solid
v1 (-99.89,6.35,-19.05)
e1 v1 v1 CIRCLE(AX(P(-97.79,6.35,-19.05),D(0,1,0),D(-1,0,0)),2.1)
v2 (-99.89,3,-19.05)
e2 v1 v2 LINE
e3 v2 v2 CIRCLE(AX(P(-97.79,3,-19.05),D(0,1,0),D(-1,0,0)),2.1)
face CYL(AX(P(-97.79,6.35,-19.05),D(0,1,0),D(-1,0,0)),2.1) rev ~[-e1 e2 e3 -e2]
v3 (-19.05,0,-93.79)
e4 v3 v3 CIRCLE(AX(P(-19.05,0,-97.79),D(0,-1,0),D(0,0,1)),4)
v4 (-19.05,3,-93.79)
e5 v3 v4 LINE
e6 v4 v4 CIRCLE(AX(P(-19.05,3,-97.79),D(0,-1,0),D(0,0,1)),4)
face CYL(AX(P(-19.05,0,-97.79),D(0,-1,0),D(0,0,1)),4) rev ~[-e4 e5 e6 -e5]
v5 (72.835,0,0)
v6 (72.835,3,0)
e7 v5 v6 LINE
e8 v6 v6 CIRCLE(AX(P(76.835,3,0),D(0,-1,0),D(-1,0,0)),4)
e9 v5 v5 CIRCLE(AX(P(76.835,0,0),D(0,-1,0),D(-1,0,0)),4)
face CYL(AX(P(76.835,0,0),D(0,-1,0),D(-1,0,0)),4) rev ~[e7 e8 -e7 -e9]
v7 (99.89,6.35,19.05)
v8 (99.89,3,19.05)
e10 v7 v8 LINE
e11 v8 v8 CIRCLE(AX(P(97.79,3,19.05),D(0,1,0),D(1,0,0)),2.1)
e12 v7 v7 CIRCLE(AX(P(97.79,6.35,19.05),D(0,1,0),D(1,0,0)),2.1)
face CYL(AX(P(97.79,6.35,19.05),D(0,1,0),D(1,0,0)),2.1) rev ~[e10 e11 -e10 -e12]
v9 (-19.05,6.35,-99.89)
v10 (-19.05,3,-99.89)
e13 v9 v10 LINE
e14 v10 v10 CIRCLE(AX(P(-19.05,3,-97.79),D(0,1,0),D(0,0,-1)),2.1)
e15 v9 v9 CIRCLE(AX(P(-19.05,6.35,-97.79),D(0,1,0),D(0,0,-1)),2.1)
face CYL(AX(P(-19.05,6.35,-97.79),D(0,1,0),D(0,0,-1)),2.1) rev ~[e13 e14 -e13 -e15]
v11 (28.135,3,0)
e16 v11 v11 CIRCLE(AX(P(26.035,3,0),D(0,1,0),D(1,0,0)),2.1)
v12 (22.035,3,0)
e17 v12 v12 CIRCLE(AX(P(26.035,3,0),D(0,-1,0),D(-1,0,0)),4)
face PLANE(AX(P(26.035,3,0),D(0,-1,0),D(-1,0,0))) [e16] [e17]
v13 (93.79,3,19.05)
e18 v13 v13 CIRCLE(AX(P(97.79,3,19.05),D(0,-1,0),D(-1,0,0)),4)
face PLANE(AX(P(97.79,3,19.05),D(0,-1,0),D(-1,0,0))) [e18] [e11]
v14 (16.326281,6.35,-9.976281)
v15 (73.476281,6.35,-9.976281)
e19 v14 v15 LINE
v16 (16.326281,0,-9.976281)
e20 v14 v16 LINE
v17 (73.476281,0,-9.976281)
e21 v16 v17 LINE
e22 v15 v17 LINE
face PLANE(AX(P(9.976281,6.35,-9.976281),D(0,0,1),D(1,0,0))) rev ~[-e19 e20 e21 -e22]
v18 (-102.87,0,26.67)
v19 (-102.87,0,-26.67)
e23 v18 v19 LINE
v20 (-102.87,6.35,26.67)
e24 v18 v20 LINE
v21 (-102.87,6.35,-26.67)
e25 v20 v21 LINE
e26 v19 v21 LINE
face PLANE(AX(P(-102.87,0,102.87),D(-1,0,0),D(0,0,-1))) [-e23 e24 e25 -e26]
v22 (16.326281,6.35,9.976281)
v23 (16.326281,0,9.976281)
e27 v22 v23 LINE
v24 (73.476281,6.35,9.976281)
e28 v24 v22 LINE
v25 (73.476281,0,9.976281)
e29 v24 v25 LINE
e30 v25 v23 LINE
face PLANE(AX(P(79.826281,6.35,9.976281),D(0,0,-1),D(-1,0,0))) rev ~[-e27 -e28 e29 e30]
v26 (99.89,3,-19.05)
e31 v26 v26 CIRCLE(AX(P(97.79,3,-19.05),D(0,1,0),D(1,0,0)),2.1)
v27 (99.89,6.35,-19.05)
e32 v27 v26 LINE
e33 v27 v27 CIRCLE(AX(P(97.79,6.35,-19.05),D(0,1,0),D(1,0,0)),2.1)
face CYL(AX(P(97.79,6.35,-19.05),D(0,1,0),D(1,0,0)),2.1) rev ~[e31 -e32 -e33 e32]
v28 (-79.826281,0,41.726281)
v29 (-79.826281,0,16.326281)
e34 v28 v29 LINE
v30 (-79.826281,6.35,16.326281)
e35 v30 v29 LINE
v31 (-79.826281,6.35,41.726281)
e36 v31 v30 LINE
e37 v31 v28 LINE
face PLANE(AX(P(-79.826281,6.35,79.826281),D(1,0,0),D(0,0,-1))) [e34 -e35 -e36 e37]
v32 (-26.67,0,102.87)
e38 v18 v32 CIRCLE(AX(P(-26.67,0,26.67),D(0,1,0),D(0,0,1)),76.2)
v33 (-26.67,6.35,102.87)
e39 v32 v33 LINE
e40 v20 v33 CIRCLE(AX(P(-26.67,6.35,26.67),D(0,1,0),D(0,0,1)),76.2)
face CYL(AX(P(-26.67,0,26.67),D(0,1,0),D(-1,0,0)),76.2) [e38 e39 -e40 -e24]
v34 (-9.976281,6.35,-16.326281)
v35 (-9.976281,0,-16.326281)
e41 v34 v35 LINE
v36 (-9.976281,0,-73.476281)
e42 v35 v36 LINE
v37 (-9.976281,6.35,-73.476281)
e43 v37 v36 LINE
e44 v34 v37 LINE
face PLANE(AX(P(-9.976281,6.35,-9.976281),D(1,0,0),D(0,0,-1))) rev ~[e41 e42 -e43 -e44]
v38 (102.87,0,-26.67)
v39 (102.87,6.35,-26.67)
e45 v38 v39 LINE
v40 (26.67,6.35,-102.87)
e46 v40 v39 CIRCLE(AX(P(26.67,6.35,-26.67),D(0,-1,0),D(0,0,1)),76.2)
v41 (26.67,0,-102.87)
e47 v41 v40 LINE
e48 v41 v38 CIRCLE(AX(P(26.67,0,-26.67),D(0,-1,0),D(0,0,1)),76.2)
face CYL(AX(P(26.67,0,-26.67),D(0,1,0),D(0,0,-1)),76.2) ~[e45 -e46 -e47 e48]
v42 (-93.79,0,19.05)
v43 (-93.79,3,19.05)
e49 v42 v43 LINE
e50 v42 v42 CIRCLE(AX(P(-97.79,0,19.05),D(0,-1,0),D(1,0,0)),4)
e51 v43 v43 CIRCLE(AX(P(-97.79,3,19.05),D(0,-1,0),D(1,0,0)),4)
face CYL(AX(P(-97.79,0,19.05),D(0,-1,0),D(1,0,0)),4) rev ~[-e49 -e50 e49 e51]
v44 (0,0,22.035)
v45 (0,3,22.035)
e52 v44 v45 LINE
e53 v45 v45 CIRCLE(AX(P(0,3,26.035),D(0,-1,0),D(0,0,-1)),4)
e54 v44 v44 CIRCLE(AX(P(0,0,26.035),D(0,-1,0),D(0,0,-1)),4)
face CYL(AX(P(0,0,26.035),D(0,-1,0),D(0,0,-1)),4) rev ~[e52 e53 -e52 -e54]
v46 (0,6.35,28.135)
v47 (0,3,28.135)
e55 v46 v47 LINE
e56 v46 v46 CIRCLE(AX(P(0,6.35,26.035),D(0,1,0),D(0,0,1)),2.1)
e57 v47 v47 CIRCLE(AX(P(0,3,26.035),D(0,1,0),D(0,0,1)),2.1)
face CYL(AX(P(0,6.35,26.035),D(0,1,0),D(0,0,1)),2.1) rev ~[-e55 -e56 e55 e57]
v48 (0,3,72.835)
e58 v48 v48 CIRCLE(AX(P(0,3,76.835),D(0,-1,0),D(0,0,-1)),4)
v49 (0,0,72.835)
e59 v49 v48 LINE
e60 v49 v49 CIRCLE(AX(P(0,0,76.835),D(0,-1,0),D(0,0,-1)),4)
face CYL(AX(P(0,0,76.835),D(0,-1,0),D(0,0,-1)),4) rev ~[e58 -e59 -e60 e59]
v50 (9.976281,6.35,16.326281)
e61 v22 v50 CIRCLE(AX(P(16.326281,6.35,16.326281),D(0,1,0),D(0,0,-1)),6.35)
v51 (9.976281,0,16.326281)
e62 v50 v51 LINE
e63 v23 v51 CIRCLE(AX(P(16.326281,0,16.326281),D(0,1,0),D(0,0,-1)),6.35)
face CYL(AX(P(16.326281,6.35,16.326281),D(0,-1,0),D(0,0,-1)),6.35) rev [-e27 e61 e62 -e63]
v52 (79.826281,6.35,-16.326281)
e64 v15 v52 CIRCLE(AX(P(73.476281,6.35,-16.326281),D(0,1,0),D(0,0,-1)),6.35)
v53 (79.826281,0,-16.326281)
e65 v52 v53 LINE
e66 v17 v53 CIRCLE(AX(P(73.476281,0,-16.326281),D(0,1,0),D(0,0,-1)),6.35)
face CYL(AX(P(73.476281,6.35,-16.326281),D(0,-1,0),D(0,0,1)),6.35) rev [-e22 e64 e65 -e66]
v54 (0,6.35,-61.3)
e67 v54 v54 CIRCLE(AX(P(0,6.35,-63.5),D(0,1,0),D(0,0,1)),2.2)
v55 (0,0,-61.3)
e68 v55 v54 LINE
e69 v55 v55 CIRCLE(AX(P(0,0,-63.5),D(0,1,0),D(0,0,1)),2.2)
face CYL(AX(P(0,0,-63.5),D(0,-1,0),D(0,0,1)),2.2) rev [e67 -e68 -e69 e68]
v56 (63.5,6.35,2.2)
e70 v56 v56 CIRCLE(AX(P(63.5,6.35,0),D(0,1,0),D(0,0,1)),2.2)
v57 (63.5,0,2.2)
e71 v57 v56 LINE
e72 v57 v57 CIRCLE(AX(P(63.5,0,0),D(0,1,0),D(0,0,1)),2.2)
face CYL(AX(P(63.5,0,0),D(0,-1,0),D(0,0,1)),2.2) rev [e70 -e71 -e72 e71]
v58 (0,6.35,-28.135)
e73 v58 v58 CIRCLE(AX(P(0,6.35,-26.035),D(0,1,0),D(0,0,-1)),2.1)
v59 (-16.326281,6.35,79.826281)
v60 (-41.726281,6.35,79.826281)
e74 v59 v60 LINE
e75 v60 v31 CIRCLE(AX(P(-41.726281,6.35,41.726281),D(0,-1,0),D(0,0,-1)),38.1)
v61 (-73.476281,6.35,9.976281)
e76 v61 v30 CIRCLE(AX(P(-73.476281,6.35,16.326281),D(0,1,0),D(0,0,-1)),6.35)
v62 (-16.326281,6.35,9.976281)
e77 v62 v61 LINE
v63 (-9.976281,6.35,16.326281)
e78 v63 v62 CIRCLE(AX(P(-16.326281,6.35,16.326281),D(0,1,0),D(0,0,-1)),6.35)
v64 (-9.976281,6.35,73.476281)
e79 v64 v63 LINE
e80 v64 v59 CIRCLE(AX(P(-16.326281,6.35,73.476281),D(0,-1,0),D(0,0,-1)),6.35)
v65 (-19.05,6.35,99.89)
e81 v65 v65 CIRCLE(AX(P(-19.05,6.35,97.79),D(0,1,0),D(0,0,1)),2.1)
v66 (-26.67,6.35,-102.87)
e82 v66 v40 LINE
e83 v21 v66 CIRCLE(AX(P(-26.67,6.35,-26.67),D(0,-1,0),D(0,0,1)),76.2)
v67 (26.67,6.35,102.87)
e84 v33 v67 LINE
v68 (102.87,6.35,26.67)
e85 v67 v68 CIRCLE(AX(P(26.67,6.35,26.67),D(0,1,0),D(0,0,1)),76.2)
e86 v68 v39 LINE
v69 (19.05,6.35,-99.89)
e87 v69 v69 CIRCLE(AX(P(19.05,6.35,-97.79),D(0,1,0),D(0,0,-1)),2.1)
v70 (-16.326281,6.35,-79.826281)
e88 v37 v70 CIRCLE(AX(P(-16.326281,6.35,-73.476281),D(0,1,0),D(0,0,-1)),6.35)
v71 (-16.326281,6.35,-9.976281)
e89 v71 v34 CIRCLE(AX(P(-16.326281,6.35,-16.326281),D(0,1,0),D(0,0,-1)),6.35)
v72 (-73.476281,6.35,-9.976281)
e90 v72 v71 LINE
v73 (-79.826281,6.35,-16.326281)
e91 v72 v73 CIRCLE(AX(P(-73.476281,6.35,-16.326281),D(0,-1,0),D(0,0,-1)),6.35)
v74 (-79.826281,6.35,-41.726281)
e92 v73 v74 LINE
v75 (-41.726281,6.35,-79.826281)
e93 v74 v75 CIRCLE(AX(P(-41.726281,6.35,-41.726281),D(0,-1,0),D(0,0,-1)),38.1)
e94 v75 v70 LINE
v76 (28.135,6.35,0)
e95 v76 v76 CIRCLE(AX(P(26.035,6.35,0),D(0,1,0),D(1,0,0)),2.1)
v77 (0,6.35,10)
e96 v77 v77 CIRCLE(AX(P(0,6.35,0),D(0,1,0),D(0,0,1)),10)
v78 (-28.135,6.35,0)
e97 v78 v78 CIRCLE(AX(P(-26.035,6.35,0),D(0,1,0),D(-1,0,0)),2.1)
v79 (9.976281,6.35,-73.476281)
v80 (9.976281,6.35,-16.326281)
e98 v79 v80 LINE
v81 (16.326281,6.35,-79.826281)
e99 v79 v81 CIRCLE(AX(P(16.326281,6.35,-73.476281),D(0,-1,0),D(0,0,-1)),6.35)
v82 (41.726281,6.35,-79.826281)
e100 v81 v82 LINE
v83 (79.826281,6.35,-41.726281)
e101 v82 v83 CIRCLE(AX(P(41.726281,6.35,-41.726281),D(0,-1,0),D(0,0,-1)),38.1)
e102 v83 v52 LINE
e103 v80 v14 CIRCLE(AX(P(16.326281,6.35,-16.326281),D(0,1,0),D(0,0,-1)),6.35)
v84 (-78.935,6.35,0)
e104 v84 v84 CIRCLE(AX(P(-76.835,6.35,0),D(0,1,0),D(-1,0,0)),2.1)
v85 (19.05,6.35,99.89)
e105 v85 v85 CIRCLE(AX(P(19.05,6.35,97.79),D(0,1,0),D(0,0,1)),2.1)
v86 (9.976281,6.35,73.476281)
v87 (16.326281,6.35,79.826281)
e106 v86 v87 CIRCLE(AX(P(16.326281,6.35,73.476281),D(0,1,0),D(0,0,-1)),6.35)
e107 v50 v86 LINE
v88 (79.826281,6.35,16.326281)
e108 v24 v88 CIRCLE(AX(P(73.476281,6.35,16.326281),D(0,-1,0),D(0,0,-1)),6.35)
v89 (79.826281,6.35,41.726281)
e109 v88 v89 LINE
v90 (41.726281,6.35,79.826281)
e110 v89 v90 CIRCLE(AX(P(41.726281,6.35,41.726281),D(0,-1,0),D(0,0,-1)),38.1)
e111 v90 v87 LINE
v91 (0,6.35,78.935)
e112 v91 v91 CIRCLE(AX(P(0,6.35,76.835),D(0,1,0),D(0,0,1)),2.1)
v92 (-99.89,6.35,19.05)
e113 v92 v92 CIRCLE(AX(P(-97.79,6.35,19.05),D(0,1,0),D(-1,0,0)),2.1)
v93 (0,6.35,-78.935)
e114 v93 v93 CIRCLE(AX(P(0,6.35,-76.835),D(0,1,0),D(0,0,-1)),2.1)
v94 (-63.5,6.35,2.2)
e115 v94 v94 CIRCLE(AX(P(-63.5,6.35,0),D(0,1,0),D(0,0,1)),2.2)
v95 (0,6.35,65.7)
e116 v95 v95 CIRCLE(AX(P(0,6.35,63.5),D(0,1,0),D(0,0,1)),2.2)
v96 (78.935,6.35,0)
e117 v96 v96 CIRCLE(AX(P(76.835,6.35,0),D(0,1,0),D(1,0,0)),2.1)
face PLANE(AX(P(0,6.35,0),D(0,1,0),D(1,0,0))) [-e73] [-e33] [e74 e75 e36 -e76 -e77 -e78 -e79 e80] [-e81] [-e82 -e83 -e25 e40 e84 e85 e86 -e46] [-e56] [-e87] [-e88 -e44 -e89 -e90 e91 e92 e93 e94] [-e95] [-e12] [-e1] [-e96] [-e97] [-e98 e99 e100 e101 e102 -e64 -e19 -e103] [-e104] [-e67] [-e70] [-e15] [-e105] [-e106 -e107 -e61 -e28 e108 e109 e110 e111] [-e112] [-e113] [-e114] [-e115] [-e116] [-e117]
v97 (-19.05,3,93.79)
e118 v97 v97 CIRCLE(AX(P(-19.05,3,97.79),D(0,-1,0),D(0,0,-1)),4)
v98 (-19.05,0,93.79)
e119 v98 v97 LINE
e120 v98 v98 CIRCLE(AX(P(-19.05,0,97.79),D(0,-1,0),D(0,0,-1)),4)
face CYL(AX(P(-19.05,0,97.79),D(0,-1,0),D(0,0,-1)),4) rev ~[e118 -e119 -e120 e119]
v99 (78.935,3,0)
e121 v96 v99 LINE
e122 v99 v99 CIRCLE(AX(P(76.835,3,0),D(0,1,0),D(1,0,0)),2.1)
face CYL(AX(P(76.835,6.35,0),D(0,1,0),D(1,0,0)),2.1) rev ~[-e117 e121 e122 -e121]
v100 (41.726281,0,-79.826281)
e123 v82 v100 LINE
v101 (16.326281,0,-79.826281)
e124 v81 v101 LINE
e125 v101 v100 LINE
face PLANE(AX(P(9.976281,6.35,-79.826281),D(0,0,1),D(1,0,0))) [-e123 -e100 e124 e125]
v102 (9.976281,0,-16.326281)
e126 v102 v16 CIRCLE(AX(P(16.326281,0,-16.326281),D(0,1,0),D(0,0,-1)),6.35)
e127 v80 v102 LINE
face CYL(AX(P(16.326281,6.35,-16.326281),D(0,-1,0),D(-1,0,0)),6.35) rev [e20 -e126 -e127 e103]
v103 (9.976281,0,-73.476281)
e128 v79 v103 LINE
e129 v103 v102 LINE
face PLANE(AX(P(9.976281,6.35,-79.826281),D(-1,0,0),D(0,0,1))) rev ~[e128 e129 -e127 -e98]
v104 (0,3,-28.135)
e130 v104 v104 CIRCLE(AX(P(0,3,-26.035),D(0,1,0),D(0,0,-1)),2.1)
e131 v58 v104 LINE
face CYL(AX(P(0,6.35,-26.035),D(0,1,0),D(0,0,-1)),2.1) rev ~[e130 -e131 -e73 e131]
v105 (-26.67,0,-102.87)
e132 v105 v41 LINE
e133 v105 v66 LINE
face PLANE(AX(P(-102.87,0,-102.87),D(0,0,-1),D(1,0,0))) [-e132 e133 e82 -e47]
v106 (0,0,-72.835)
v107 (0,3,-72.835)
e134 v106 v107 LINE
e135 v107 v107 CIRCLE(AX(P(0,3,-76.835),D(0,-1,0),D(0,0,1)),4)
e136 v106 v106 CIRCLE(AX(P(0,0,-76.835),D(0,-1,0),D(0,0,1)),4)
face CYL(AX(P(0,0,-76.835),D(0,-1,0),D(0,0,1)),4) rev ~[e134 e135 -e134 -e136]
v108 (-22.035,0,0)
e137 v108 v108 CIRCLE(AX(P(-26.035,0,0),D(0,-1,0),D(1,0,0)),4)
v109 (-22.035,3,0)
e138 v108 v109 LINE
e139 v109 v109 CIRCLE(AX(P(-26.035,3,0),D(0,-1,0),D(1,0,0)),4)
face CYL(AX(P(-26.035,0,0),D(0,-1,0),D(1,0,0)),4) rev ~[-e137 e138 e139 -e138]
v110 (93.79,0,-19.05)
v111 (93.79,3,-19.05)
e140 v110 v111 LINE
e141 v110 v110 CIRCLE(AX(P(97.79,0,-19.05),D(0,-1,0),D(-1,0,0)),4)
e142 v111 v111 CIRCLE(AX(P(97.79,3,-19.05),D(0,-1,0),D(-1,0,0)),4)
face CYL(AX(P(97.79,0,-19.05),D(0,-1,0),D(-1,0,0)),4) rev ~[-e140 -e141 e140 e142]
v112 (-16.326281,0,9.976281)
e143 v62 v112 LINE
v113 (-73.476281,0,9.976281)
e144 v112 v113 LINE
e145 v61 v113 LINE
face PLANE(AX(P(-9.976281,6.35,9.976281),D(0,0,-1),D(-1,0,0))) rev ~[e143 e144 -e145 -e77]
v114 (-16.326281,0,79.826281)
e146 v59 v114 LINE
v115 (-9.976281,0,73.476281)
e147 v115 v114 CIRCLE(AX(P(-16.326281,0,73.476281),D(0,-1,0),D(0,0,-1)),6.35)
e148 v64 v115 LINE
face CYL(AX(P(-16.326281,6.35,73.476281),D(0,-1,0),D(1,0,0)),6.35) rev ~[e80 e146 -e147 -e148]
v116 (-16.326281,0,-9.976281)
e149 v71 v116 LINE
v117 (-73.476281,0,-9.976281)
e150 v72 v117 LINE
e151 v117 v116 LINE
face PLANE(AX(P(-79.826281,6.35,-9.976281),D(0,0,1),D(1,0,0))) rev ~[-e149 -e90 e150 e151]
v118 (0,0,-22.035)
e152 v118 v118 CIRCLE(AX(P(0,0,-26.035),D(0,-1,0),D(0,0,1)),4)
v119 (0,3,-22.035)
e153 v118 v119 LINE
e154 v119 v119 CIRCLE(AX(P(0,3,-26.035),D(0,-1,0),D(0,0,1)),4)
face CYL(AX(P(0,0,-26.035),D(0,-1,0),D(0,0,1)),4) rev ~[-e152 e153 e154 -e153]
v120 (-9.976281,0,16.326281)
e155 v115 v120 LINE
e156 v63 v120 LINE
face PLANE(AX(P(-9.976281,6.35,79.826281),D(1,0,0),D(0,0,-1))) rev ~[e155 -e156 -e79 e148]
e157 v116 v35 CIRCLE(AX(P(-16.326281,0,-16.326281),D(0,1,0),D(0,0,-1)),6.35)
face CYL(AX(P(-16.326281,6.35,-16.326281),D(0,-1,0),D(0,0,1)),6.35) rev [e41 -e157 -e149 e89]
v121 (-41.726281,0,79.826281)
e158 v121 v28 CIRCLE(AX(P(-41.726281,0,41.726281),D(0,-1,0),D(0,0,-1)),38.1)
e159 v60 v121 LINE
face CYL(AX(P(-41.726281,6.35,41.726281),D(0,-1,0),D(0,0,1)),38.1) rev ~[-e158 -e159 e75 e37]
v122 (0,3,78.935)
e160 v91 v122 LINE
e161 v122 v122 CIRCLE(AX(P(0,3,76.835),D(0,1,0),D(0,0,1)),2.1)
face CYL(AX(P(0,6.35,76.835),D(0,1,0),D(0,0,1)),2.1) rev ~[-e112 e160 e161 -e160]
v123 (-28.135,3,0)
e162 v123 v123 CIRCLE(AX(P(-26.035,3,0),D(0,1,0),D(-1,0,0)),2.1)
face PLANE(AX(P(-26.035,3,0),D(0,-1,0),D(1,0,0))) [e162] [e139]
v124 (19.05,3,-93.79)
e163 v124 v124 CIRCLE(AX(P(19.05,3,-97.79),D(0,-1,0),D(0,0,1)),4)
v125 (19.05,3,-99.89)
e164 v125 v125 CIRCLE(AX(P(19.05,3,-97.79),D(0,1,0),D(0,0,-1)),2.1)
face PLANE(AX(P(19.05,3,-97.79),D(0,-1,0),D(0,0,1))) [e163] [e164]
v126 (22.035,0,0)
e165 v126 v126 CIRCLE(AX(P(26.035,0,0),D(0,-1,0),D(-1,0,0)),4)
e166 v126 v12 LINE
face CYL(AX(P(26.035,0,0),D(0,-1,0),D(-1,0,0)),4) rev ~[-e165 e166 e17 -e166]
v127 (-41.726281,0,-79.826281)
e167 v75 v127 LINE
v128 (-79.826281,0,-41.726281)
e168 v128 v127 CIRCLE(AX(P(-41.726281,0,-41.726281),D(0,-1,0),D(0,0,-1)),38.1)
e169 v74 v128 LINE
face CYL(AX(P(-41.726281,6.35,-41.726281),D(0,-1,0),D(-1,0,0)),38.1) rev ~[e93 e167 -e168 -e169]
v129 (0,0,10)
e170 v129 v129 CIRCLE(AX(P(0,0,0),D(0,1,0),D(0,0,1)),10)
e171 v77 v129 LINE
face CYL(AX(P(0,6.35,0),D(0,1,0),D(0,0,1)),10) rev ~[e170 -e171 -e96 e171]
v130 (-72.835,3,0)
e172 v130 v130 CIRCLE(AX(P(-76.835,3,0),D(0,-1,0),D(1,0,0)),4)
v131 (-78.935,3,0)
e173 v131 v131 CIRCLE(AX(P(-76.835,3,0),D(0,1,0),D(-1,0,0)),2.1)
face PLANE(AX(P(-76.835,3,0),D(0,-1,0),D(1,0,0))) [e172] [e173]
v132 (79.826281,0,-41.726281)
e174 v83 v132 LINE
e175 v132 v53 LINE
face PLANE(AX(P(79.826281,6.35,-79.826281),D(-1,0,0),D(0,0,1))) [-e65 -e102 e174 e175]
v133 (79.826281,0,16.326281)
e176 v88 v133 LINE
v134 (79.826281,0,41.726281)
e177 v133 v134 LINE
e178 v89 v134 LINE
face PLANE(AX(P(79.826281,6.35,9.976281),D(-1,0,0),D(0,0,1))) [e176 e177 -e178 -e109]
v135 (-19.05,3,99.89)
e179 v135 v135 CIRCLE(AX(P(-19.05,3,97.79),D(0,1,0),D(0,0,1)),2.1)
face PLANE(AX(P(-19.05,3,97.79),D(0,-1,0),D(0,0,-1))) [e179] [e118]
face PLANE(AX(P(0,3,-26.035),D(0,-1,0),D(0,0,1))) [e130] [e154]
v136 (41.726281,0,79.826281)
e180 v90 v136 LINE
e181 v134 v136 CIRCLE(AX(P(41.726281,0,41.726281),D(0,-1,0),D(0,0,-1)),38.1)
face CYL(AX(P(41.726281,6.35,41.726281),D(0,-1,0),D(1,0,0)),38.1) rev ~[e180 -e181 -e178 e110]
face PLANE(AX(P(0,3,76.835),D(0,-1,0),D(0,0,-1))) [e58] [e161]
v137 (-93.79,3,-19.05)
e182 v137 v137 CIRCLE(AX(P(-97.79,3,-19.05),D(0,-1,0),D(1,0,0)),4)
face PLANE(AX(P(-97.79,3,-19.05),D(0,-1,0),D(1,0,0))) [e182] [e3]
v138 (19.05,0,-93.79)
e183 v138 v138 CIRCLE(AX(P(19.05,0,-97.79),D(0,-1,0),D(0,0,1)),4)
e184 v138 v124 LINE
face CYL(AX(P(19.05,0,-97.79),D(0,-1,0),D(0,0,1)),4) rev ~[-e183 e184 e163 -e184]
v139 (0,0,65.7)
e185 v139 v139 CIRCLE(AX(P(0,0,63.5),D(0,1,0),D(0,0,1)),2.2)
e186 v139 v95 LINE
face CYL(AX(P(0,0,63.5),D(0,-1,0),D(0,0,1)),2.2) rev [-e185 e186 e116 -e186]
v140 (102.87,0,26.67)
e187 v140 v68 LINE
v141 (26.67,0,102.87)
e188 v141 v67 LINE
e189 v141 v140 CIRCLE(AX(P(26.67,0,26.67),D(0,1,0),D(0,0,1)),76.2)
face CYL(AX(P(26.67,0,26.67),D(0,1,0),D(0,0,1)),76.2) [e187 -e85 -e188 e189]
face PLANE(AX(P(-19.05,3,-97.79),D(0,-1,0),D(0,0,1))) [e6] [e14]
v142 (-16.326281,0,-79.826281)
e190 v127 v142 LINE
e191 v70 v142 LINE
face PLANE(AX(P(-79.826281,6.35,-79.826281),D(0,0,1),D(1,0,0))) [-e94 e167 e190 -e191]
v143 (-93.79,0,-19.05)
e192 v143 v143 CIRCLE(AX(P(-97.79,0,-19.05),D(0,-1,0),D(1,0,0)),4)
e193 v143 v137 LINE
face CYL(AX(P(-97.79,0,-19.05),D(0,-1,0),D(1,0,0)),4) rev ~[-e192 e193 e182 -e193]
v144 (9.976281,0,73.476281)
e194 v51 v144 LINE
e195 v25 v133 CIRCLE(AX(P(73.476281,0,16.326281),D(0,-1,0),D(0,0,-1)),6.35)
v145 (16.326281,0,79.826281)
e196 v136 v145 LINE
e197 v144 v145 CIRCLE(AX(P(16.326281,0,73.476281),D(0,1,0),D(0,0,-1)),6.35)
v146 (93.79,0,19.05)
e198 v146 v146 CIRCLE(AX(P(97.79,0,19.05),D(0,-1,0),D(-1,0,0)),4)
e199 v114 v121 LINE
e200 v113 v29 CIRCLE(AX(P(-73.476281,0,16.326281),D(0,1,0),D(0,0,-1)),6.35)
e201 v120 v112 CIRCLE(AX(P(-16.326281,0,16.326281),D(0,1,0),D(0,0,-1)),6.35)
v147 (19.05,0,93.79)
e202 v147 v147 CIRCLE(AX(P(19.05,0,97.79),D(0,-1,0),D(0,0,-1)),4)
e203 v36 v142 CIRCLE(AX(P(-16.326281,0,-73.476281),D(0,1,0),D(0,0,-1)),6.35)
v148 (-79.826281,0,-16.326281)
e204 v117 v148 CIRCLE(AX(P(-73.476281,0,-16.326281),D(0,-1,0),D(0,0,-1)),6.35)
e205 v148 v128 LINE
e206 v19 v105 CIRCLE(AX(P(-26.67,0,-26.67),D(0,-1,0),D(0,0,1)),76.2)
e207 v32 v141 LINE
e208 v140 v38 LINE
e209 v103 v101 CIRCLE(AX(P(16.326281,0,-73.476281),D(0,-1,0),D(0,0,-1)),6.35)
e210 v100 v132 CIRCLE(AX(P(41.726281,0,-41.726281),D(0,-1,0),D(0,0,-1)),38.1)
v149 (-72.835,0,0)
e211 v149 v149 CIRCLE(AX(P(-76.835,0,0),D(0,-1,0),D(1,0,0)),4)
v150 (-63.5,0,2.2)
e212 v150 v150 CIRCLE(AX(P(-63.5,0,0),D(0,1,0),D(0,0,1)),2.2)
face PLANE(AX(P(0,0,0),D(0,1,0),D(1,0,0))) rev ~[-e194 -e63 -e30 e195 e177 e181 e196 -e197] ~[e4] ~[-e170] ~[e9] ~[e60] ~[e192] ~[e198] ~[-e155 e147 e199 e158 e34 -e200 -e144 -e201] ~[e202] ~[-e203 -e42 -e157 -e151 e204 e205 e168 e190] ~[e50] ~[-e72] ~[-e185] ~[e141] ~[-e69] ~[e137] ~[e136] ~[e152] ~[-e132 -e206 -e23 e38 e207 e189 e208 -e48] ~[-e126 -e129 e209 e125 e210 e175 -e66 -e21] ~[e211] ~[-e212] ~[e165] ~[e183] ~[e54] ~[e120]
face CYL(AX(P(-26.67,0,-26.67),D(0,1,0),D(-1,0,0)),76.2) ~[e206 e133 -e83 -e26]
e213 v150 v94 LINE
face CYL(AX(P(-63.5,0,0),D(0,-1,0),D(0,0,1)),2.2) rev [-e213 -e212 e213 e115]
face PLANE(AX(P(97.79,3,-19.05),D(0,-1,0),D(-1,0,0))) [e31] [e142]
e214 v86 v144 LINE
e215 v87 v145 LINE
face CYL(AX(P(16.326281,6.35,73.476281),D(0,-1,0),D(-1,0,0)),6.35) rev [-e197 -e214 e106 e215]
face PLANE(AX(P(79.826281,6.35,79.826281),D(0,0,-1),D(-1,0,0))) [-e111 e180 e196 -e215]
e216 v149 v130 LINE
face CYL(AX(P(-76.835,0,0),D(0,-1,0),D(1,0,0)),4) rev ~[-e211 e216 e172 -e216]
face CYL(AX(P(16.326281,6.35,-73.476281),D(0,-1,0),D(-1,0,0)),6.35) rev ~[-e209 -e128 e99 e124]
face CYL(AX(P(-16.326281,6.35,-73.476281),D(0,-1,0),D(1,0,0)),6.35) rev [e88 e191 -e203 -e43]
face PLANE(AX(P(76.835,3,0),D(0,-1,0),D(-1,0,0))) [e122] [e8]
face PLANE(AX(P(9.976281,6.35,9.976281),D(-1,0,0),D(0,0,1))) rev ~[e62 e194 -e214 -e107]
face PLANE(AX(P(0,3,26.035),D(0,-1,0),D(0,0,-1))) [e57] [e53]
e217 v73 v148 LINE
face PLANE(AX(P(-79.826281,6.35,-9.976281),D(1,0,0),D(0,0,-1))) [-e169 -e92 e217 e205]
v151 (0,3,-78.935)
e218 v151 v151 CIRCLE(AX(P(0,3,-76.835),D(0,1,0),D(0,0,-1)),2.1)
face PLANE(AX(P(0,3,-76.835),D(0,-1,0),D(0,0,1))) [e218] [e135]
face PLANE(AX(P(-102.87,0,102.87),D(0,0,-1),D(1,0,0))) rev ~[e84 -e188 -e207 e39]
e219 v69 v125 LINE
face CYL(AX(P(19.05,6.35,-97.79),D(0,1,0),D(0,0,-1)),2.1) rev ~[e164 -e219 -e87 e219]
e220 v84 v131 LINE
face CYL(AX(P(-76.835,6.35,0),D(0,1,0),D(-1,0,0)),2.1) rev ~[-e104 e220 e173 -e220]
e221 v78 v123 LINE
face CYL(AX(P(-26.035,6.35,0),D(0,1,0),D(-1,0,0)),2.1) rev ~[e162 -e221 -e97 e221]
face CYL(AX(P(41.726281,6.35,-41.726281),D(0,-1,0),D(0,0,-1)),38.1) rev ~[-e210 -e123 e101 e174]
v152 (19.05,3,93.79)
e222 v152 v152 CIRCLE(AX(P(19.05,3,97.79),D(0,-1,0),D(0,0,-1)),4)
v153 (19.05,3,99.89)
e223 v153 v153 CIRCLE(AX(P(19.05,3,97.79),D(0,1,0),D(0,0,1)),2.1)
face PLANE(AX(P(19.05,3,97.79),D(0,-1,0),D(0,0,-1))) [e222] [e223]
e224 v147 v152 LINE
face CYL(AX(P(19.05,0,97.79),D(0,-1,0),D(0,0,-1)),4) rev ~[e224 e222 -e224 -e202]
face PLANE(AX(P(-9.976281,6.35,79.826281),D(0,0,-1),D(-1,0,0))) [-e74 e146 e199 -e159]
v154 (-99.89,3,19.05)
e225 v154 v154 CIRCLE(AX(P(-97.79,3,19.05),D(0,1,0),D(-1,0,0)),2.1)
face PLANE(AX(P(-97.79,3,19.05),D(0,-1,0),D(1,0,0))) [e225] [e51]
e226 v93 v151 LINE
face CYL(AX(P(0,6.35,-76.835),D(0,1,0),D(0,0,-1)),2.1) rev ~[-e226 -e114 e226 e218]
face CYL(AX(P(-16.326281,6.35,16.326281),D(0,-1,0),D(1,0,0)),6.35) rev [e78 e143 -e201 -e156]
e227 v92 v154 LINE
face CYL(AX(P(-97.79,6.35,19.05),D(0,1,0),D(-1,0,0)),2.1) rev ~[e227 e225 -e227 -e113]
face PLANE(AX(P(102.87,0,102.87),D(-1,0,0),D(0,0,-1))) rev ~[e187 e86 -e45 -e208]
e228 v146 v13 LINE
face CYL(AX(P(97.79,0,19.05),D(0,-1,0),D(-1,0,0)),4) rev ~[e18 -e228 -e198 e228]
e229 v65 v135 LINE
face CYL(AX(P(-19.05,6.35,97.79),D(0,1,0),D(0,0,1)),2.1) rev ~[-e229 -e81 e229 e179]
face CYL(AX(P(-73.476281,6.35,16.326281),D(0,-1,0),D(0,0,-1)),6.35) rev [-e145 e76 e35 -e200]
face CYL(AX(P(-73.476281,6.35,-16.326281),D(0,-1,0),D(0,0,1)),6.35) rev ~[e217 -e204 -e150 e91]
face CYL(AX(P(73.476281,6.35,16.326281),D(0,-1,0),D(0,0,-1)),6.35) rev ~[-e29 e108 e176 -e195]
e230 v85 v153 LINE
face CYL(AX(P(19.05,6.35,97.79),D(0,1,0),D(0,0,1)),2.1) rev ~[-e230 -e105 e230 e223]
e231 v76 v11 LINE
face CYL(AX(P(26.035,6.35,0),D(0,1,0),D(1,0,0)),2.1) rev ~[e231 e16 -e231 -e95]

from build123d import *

# Parameters (mm, degrees)
SKETCH1_W                = 205.74
SKETCH1_H                = 205.74
SKETCH1_R                = 2.200000045
BOSS_EXTRUDE1_DEPTH      = 6.35
SKETCH3_R                = 9.999999939
CUT_EXTRUDE2_DEPTH       = 146.618667416
SKETCH4_W                = 69.85
SKETCH4_H                = 69.85
CUT_EXTRUDE3_DEPTH       = 146.618667416
FILLET4_R                = 6.35
CIRPATTERN6_COUNT        = 4
FILLET4_OF_CIRPATTERN6_R = 6.35
FILLET8_R                = 38.1
FILLET9_R                = 76.2
SKETCH10_R               = 2.099999991
CUT_EXTRUDE6_DEPTH       = 146.618667416
SKETCH11_R               = 4.000000001
CUT_EXTRUDE7_DEPTH       = 3.000000096
CIRPATTERN4_COUNT        = 4


with BuildPart() as part:
    # Sketch1 → Boss-Extrude1 (new body)
    with BuildSketch(Plane(origin=(0, 0, 0), x_dir=(1, 0, 0), z_dir=(0, 1, 0))):
        Rectangle(SKETCH1_W, SKETCH1_H)
        with Locations(Location((63.5, 0, 0), (0, 0, 270))):
            Circle(SKETCH1_R, mode=Mode.SUBTRACT)
        with Locations(Location((0, -63.5, 0), (0, 0, 270))):
            Circle(SKETCH1_R, mode=Mode.SUBTRACT)
        with Locations(Location((-63.5, 0, 0), (0, 0, 270))):
            Circle(SKETCH1_R, mode=Mode.SUBTRACT)
        with Locations(Location((0, 63.5, 0), (0, 0, 270))):
            Circle(SKETCH1_R, mode=Mode.SUBTRACT)
    extrude(amount=BOSS_EXTRUDE1_DEPTH)

    # Sketch3 → Cut-Extrude2 (cut, through all)
    with BuildSketch(Plane(origin=(0, 6.35, 0), x_dir=(1, 0, 0), z_dir=(0, 1, 0))):
        with Locations(Location((0, 0, 0), (0, 0, 270))):
            Circle(SKETCH3_R)
    extrude(amount=-CUT_EXTRUDE2_DEPTH, mode=Mode.SUBTRACT)

    # Sketch4 → Cut-Extrude3 (cut, through all)
    with BuildSketch(Plane(origin=(0, 6.35, 0), x_dir=(1, 0, 0), z_dir=(0, 1, 0))):
        with Locations((-44.901280605, 44.901280605)):
            Rectangle(SKETCH4_W, SKETCH4_H)
    cut_extrude3 = extrude(amount=-CUT_EXTRUDE3_DEPTH, mode=Mode.SUBTRACT)

    # Fillet4
    fillet4_edges = [part.edges().sort_by_distance(p)[0] for p in [
        (-9.976280605, 3.175, -79.826280605),
        (-9.976280605, 3.175, -9.976280605),
        (-79.826280605, 3.175, -9.976280605),
    ]]
    fillet(fillet4_edges, radius=FILLET4_R)

    # CirPattern6: Cut-Extrude3 ×4 about axis
    cirpattern6_axis = Axis((0, 0, 0), (0, 1, 0))
    for i in range(1, CIRPATTERN6_COUNT):
        add(cut_extrude3.rotate(cirpattern6_axis, i * 360 / CIRPATTERN6_COUNT), mode=Mode.SUBTRACT)

    # Fillet4 of CirPattern6
    fillet4_of_cirpattern6_edges = [part.edges().sort_by_distance(p)[0] for p in [
        (-79.826280605, 3.175, 9.976280605),
        (-9.976280605, 3.175, 9.976280605),
        (-9.976280605, 3.175, 79.826280605),
        (9.976280605, 3.175, 79.826280605),
        (9.976280605, 3.175, 9.976280605),
        (79.826280605, 3.175, 9.976280605),
        (79.826280605, 3.175, -9.976280605),
        (9.976280605, 3.175, -9.976280605),
        (9.976280605, 3.175, -79.826280605),
    ]]
    fillet(fillet4_of_cirpattern6_edges, radius=FILLET4_OF_CIRPATTERN6_R)

    # Fillet8
    fillet8_edges = [part.edges().sort_by_distance(p)[0] for p in [
        (-79.826280605, 3.175, -79.826280605),
        (79.826280605, 3.175, -79.826280605),
        (79.826280605, 3.175, 79.826280605),
        (-79.826280605, 3.175, 79.826280605),
    ]]
    fillet(fillet8_edges, radius=FILLET8_R)

    # Fillet9
    fillet9_edges = [part.edges().sort_by_distance(p)[0] for p in [
        (102.87, 3.175, 102.87),
        (-102.87, 3.175, 102.87),
        (-102.87, 3.175, -102.87),
        (102.87, 3.175, -102.87),
    ]]
    fillet(fillet9_edges, radius=FILLET9_R)

    # Sketch10 → Cut-Extrude6 (cut, through all)
    with BuildSketch(Plane(origin=(0, 6.35, 0), x_dir=(1, 0, 0), z_dir=(0, 1, 0))):
        with Locations(Location((0, -26.035, 0), (0, 0, 270))):
            Circle(SKETCH10_R)
        with Locations(Location((0, -76.835, 0), (0, 0, 270))):
            Circle(SKETCH10_R)
        with Locations(Location((-19.05, -97.79, 0), (0, 0, 270))):
            Circle(SKETCH10_R)
        with Locations(Location((19.05, -97.79, 0), (0, 0, 270))):
            Circle(SKETCH10_R)
    cut_extrude6 = extrude(amount=-CUT_EXTRUDE6_DEPTH, mode=Mode.SUBTRACT)

    # Sketch11 → Cut-Extrude7 (cut)
    with BuildSketch(Plane.XZ):
        with Locations(Location((-19.05, 97.79, 0), (0, 0, 270))):
            Circle(SKETCH11_R)
        with Locations(Location((19.05, 97.79, 0), (0, 0, 270))):
            Circle(SKETCH11_R)
        with Locations(Location((0, 76.835, 0), (0, 0, 270))):
            Circle(SKETCH11_R)
        with Locations(Location((0, 26.035, 0), (0, 0, 270))):
            Circle(SKETCH11_R)
    cut_extrude7 = extrude(amount=-CUT_EXTRUDE7_DEPTH, mode=Mode.SUBTRACT)

    # CirPattern4: Cut-Extrude6, Cut-Extrude7 ×4 about axis
    cirpattern4_axis = Axis((0, 0, 0), (0, 1, 0))
    add([cut_extrude6.rotate(cirpattern4_axis, i * 360 / CIRPATTERN4_COUNT) for i in range(1, CIRPATTERN4_COUNT)], mode=Mode.SUBTRACT)
    add([cut_extrude7.rotate(cirpattern4_axis, i * 360 / CIRPATTERN4_COUNT) for i in range(1, CIRPATTERN4_COUNT)], mode=Mode.SUBTRACT)


solid = part.part
